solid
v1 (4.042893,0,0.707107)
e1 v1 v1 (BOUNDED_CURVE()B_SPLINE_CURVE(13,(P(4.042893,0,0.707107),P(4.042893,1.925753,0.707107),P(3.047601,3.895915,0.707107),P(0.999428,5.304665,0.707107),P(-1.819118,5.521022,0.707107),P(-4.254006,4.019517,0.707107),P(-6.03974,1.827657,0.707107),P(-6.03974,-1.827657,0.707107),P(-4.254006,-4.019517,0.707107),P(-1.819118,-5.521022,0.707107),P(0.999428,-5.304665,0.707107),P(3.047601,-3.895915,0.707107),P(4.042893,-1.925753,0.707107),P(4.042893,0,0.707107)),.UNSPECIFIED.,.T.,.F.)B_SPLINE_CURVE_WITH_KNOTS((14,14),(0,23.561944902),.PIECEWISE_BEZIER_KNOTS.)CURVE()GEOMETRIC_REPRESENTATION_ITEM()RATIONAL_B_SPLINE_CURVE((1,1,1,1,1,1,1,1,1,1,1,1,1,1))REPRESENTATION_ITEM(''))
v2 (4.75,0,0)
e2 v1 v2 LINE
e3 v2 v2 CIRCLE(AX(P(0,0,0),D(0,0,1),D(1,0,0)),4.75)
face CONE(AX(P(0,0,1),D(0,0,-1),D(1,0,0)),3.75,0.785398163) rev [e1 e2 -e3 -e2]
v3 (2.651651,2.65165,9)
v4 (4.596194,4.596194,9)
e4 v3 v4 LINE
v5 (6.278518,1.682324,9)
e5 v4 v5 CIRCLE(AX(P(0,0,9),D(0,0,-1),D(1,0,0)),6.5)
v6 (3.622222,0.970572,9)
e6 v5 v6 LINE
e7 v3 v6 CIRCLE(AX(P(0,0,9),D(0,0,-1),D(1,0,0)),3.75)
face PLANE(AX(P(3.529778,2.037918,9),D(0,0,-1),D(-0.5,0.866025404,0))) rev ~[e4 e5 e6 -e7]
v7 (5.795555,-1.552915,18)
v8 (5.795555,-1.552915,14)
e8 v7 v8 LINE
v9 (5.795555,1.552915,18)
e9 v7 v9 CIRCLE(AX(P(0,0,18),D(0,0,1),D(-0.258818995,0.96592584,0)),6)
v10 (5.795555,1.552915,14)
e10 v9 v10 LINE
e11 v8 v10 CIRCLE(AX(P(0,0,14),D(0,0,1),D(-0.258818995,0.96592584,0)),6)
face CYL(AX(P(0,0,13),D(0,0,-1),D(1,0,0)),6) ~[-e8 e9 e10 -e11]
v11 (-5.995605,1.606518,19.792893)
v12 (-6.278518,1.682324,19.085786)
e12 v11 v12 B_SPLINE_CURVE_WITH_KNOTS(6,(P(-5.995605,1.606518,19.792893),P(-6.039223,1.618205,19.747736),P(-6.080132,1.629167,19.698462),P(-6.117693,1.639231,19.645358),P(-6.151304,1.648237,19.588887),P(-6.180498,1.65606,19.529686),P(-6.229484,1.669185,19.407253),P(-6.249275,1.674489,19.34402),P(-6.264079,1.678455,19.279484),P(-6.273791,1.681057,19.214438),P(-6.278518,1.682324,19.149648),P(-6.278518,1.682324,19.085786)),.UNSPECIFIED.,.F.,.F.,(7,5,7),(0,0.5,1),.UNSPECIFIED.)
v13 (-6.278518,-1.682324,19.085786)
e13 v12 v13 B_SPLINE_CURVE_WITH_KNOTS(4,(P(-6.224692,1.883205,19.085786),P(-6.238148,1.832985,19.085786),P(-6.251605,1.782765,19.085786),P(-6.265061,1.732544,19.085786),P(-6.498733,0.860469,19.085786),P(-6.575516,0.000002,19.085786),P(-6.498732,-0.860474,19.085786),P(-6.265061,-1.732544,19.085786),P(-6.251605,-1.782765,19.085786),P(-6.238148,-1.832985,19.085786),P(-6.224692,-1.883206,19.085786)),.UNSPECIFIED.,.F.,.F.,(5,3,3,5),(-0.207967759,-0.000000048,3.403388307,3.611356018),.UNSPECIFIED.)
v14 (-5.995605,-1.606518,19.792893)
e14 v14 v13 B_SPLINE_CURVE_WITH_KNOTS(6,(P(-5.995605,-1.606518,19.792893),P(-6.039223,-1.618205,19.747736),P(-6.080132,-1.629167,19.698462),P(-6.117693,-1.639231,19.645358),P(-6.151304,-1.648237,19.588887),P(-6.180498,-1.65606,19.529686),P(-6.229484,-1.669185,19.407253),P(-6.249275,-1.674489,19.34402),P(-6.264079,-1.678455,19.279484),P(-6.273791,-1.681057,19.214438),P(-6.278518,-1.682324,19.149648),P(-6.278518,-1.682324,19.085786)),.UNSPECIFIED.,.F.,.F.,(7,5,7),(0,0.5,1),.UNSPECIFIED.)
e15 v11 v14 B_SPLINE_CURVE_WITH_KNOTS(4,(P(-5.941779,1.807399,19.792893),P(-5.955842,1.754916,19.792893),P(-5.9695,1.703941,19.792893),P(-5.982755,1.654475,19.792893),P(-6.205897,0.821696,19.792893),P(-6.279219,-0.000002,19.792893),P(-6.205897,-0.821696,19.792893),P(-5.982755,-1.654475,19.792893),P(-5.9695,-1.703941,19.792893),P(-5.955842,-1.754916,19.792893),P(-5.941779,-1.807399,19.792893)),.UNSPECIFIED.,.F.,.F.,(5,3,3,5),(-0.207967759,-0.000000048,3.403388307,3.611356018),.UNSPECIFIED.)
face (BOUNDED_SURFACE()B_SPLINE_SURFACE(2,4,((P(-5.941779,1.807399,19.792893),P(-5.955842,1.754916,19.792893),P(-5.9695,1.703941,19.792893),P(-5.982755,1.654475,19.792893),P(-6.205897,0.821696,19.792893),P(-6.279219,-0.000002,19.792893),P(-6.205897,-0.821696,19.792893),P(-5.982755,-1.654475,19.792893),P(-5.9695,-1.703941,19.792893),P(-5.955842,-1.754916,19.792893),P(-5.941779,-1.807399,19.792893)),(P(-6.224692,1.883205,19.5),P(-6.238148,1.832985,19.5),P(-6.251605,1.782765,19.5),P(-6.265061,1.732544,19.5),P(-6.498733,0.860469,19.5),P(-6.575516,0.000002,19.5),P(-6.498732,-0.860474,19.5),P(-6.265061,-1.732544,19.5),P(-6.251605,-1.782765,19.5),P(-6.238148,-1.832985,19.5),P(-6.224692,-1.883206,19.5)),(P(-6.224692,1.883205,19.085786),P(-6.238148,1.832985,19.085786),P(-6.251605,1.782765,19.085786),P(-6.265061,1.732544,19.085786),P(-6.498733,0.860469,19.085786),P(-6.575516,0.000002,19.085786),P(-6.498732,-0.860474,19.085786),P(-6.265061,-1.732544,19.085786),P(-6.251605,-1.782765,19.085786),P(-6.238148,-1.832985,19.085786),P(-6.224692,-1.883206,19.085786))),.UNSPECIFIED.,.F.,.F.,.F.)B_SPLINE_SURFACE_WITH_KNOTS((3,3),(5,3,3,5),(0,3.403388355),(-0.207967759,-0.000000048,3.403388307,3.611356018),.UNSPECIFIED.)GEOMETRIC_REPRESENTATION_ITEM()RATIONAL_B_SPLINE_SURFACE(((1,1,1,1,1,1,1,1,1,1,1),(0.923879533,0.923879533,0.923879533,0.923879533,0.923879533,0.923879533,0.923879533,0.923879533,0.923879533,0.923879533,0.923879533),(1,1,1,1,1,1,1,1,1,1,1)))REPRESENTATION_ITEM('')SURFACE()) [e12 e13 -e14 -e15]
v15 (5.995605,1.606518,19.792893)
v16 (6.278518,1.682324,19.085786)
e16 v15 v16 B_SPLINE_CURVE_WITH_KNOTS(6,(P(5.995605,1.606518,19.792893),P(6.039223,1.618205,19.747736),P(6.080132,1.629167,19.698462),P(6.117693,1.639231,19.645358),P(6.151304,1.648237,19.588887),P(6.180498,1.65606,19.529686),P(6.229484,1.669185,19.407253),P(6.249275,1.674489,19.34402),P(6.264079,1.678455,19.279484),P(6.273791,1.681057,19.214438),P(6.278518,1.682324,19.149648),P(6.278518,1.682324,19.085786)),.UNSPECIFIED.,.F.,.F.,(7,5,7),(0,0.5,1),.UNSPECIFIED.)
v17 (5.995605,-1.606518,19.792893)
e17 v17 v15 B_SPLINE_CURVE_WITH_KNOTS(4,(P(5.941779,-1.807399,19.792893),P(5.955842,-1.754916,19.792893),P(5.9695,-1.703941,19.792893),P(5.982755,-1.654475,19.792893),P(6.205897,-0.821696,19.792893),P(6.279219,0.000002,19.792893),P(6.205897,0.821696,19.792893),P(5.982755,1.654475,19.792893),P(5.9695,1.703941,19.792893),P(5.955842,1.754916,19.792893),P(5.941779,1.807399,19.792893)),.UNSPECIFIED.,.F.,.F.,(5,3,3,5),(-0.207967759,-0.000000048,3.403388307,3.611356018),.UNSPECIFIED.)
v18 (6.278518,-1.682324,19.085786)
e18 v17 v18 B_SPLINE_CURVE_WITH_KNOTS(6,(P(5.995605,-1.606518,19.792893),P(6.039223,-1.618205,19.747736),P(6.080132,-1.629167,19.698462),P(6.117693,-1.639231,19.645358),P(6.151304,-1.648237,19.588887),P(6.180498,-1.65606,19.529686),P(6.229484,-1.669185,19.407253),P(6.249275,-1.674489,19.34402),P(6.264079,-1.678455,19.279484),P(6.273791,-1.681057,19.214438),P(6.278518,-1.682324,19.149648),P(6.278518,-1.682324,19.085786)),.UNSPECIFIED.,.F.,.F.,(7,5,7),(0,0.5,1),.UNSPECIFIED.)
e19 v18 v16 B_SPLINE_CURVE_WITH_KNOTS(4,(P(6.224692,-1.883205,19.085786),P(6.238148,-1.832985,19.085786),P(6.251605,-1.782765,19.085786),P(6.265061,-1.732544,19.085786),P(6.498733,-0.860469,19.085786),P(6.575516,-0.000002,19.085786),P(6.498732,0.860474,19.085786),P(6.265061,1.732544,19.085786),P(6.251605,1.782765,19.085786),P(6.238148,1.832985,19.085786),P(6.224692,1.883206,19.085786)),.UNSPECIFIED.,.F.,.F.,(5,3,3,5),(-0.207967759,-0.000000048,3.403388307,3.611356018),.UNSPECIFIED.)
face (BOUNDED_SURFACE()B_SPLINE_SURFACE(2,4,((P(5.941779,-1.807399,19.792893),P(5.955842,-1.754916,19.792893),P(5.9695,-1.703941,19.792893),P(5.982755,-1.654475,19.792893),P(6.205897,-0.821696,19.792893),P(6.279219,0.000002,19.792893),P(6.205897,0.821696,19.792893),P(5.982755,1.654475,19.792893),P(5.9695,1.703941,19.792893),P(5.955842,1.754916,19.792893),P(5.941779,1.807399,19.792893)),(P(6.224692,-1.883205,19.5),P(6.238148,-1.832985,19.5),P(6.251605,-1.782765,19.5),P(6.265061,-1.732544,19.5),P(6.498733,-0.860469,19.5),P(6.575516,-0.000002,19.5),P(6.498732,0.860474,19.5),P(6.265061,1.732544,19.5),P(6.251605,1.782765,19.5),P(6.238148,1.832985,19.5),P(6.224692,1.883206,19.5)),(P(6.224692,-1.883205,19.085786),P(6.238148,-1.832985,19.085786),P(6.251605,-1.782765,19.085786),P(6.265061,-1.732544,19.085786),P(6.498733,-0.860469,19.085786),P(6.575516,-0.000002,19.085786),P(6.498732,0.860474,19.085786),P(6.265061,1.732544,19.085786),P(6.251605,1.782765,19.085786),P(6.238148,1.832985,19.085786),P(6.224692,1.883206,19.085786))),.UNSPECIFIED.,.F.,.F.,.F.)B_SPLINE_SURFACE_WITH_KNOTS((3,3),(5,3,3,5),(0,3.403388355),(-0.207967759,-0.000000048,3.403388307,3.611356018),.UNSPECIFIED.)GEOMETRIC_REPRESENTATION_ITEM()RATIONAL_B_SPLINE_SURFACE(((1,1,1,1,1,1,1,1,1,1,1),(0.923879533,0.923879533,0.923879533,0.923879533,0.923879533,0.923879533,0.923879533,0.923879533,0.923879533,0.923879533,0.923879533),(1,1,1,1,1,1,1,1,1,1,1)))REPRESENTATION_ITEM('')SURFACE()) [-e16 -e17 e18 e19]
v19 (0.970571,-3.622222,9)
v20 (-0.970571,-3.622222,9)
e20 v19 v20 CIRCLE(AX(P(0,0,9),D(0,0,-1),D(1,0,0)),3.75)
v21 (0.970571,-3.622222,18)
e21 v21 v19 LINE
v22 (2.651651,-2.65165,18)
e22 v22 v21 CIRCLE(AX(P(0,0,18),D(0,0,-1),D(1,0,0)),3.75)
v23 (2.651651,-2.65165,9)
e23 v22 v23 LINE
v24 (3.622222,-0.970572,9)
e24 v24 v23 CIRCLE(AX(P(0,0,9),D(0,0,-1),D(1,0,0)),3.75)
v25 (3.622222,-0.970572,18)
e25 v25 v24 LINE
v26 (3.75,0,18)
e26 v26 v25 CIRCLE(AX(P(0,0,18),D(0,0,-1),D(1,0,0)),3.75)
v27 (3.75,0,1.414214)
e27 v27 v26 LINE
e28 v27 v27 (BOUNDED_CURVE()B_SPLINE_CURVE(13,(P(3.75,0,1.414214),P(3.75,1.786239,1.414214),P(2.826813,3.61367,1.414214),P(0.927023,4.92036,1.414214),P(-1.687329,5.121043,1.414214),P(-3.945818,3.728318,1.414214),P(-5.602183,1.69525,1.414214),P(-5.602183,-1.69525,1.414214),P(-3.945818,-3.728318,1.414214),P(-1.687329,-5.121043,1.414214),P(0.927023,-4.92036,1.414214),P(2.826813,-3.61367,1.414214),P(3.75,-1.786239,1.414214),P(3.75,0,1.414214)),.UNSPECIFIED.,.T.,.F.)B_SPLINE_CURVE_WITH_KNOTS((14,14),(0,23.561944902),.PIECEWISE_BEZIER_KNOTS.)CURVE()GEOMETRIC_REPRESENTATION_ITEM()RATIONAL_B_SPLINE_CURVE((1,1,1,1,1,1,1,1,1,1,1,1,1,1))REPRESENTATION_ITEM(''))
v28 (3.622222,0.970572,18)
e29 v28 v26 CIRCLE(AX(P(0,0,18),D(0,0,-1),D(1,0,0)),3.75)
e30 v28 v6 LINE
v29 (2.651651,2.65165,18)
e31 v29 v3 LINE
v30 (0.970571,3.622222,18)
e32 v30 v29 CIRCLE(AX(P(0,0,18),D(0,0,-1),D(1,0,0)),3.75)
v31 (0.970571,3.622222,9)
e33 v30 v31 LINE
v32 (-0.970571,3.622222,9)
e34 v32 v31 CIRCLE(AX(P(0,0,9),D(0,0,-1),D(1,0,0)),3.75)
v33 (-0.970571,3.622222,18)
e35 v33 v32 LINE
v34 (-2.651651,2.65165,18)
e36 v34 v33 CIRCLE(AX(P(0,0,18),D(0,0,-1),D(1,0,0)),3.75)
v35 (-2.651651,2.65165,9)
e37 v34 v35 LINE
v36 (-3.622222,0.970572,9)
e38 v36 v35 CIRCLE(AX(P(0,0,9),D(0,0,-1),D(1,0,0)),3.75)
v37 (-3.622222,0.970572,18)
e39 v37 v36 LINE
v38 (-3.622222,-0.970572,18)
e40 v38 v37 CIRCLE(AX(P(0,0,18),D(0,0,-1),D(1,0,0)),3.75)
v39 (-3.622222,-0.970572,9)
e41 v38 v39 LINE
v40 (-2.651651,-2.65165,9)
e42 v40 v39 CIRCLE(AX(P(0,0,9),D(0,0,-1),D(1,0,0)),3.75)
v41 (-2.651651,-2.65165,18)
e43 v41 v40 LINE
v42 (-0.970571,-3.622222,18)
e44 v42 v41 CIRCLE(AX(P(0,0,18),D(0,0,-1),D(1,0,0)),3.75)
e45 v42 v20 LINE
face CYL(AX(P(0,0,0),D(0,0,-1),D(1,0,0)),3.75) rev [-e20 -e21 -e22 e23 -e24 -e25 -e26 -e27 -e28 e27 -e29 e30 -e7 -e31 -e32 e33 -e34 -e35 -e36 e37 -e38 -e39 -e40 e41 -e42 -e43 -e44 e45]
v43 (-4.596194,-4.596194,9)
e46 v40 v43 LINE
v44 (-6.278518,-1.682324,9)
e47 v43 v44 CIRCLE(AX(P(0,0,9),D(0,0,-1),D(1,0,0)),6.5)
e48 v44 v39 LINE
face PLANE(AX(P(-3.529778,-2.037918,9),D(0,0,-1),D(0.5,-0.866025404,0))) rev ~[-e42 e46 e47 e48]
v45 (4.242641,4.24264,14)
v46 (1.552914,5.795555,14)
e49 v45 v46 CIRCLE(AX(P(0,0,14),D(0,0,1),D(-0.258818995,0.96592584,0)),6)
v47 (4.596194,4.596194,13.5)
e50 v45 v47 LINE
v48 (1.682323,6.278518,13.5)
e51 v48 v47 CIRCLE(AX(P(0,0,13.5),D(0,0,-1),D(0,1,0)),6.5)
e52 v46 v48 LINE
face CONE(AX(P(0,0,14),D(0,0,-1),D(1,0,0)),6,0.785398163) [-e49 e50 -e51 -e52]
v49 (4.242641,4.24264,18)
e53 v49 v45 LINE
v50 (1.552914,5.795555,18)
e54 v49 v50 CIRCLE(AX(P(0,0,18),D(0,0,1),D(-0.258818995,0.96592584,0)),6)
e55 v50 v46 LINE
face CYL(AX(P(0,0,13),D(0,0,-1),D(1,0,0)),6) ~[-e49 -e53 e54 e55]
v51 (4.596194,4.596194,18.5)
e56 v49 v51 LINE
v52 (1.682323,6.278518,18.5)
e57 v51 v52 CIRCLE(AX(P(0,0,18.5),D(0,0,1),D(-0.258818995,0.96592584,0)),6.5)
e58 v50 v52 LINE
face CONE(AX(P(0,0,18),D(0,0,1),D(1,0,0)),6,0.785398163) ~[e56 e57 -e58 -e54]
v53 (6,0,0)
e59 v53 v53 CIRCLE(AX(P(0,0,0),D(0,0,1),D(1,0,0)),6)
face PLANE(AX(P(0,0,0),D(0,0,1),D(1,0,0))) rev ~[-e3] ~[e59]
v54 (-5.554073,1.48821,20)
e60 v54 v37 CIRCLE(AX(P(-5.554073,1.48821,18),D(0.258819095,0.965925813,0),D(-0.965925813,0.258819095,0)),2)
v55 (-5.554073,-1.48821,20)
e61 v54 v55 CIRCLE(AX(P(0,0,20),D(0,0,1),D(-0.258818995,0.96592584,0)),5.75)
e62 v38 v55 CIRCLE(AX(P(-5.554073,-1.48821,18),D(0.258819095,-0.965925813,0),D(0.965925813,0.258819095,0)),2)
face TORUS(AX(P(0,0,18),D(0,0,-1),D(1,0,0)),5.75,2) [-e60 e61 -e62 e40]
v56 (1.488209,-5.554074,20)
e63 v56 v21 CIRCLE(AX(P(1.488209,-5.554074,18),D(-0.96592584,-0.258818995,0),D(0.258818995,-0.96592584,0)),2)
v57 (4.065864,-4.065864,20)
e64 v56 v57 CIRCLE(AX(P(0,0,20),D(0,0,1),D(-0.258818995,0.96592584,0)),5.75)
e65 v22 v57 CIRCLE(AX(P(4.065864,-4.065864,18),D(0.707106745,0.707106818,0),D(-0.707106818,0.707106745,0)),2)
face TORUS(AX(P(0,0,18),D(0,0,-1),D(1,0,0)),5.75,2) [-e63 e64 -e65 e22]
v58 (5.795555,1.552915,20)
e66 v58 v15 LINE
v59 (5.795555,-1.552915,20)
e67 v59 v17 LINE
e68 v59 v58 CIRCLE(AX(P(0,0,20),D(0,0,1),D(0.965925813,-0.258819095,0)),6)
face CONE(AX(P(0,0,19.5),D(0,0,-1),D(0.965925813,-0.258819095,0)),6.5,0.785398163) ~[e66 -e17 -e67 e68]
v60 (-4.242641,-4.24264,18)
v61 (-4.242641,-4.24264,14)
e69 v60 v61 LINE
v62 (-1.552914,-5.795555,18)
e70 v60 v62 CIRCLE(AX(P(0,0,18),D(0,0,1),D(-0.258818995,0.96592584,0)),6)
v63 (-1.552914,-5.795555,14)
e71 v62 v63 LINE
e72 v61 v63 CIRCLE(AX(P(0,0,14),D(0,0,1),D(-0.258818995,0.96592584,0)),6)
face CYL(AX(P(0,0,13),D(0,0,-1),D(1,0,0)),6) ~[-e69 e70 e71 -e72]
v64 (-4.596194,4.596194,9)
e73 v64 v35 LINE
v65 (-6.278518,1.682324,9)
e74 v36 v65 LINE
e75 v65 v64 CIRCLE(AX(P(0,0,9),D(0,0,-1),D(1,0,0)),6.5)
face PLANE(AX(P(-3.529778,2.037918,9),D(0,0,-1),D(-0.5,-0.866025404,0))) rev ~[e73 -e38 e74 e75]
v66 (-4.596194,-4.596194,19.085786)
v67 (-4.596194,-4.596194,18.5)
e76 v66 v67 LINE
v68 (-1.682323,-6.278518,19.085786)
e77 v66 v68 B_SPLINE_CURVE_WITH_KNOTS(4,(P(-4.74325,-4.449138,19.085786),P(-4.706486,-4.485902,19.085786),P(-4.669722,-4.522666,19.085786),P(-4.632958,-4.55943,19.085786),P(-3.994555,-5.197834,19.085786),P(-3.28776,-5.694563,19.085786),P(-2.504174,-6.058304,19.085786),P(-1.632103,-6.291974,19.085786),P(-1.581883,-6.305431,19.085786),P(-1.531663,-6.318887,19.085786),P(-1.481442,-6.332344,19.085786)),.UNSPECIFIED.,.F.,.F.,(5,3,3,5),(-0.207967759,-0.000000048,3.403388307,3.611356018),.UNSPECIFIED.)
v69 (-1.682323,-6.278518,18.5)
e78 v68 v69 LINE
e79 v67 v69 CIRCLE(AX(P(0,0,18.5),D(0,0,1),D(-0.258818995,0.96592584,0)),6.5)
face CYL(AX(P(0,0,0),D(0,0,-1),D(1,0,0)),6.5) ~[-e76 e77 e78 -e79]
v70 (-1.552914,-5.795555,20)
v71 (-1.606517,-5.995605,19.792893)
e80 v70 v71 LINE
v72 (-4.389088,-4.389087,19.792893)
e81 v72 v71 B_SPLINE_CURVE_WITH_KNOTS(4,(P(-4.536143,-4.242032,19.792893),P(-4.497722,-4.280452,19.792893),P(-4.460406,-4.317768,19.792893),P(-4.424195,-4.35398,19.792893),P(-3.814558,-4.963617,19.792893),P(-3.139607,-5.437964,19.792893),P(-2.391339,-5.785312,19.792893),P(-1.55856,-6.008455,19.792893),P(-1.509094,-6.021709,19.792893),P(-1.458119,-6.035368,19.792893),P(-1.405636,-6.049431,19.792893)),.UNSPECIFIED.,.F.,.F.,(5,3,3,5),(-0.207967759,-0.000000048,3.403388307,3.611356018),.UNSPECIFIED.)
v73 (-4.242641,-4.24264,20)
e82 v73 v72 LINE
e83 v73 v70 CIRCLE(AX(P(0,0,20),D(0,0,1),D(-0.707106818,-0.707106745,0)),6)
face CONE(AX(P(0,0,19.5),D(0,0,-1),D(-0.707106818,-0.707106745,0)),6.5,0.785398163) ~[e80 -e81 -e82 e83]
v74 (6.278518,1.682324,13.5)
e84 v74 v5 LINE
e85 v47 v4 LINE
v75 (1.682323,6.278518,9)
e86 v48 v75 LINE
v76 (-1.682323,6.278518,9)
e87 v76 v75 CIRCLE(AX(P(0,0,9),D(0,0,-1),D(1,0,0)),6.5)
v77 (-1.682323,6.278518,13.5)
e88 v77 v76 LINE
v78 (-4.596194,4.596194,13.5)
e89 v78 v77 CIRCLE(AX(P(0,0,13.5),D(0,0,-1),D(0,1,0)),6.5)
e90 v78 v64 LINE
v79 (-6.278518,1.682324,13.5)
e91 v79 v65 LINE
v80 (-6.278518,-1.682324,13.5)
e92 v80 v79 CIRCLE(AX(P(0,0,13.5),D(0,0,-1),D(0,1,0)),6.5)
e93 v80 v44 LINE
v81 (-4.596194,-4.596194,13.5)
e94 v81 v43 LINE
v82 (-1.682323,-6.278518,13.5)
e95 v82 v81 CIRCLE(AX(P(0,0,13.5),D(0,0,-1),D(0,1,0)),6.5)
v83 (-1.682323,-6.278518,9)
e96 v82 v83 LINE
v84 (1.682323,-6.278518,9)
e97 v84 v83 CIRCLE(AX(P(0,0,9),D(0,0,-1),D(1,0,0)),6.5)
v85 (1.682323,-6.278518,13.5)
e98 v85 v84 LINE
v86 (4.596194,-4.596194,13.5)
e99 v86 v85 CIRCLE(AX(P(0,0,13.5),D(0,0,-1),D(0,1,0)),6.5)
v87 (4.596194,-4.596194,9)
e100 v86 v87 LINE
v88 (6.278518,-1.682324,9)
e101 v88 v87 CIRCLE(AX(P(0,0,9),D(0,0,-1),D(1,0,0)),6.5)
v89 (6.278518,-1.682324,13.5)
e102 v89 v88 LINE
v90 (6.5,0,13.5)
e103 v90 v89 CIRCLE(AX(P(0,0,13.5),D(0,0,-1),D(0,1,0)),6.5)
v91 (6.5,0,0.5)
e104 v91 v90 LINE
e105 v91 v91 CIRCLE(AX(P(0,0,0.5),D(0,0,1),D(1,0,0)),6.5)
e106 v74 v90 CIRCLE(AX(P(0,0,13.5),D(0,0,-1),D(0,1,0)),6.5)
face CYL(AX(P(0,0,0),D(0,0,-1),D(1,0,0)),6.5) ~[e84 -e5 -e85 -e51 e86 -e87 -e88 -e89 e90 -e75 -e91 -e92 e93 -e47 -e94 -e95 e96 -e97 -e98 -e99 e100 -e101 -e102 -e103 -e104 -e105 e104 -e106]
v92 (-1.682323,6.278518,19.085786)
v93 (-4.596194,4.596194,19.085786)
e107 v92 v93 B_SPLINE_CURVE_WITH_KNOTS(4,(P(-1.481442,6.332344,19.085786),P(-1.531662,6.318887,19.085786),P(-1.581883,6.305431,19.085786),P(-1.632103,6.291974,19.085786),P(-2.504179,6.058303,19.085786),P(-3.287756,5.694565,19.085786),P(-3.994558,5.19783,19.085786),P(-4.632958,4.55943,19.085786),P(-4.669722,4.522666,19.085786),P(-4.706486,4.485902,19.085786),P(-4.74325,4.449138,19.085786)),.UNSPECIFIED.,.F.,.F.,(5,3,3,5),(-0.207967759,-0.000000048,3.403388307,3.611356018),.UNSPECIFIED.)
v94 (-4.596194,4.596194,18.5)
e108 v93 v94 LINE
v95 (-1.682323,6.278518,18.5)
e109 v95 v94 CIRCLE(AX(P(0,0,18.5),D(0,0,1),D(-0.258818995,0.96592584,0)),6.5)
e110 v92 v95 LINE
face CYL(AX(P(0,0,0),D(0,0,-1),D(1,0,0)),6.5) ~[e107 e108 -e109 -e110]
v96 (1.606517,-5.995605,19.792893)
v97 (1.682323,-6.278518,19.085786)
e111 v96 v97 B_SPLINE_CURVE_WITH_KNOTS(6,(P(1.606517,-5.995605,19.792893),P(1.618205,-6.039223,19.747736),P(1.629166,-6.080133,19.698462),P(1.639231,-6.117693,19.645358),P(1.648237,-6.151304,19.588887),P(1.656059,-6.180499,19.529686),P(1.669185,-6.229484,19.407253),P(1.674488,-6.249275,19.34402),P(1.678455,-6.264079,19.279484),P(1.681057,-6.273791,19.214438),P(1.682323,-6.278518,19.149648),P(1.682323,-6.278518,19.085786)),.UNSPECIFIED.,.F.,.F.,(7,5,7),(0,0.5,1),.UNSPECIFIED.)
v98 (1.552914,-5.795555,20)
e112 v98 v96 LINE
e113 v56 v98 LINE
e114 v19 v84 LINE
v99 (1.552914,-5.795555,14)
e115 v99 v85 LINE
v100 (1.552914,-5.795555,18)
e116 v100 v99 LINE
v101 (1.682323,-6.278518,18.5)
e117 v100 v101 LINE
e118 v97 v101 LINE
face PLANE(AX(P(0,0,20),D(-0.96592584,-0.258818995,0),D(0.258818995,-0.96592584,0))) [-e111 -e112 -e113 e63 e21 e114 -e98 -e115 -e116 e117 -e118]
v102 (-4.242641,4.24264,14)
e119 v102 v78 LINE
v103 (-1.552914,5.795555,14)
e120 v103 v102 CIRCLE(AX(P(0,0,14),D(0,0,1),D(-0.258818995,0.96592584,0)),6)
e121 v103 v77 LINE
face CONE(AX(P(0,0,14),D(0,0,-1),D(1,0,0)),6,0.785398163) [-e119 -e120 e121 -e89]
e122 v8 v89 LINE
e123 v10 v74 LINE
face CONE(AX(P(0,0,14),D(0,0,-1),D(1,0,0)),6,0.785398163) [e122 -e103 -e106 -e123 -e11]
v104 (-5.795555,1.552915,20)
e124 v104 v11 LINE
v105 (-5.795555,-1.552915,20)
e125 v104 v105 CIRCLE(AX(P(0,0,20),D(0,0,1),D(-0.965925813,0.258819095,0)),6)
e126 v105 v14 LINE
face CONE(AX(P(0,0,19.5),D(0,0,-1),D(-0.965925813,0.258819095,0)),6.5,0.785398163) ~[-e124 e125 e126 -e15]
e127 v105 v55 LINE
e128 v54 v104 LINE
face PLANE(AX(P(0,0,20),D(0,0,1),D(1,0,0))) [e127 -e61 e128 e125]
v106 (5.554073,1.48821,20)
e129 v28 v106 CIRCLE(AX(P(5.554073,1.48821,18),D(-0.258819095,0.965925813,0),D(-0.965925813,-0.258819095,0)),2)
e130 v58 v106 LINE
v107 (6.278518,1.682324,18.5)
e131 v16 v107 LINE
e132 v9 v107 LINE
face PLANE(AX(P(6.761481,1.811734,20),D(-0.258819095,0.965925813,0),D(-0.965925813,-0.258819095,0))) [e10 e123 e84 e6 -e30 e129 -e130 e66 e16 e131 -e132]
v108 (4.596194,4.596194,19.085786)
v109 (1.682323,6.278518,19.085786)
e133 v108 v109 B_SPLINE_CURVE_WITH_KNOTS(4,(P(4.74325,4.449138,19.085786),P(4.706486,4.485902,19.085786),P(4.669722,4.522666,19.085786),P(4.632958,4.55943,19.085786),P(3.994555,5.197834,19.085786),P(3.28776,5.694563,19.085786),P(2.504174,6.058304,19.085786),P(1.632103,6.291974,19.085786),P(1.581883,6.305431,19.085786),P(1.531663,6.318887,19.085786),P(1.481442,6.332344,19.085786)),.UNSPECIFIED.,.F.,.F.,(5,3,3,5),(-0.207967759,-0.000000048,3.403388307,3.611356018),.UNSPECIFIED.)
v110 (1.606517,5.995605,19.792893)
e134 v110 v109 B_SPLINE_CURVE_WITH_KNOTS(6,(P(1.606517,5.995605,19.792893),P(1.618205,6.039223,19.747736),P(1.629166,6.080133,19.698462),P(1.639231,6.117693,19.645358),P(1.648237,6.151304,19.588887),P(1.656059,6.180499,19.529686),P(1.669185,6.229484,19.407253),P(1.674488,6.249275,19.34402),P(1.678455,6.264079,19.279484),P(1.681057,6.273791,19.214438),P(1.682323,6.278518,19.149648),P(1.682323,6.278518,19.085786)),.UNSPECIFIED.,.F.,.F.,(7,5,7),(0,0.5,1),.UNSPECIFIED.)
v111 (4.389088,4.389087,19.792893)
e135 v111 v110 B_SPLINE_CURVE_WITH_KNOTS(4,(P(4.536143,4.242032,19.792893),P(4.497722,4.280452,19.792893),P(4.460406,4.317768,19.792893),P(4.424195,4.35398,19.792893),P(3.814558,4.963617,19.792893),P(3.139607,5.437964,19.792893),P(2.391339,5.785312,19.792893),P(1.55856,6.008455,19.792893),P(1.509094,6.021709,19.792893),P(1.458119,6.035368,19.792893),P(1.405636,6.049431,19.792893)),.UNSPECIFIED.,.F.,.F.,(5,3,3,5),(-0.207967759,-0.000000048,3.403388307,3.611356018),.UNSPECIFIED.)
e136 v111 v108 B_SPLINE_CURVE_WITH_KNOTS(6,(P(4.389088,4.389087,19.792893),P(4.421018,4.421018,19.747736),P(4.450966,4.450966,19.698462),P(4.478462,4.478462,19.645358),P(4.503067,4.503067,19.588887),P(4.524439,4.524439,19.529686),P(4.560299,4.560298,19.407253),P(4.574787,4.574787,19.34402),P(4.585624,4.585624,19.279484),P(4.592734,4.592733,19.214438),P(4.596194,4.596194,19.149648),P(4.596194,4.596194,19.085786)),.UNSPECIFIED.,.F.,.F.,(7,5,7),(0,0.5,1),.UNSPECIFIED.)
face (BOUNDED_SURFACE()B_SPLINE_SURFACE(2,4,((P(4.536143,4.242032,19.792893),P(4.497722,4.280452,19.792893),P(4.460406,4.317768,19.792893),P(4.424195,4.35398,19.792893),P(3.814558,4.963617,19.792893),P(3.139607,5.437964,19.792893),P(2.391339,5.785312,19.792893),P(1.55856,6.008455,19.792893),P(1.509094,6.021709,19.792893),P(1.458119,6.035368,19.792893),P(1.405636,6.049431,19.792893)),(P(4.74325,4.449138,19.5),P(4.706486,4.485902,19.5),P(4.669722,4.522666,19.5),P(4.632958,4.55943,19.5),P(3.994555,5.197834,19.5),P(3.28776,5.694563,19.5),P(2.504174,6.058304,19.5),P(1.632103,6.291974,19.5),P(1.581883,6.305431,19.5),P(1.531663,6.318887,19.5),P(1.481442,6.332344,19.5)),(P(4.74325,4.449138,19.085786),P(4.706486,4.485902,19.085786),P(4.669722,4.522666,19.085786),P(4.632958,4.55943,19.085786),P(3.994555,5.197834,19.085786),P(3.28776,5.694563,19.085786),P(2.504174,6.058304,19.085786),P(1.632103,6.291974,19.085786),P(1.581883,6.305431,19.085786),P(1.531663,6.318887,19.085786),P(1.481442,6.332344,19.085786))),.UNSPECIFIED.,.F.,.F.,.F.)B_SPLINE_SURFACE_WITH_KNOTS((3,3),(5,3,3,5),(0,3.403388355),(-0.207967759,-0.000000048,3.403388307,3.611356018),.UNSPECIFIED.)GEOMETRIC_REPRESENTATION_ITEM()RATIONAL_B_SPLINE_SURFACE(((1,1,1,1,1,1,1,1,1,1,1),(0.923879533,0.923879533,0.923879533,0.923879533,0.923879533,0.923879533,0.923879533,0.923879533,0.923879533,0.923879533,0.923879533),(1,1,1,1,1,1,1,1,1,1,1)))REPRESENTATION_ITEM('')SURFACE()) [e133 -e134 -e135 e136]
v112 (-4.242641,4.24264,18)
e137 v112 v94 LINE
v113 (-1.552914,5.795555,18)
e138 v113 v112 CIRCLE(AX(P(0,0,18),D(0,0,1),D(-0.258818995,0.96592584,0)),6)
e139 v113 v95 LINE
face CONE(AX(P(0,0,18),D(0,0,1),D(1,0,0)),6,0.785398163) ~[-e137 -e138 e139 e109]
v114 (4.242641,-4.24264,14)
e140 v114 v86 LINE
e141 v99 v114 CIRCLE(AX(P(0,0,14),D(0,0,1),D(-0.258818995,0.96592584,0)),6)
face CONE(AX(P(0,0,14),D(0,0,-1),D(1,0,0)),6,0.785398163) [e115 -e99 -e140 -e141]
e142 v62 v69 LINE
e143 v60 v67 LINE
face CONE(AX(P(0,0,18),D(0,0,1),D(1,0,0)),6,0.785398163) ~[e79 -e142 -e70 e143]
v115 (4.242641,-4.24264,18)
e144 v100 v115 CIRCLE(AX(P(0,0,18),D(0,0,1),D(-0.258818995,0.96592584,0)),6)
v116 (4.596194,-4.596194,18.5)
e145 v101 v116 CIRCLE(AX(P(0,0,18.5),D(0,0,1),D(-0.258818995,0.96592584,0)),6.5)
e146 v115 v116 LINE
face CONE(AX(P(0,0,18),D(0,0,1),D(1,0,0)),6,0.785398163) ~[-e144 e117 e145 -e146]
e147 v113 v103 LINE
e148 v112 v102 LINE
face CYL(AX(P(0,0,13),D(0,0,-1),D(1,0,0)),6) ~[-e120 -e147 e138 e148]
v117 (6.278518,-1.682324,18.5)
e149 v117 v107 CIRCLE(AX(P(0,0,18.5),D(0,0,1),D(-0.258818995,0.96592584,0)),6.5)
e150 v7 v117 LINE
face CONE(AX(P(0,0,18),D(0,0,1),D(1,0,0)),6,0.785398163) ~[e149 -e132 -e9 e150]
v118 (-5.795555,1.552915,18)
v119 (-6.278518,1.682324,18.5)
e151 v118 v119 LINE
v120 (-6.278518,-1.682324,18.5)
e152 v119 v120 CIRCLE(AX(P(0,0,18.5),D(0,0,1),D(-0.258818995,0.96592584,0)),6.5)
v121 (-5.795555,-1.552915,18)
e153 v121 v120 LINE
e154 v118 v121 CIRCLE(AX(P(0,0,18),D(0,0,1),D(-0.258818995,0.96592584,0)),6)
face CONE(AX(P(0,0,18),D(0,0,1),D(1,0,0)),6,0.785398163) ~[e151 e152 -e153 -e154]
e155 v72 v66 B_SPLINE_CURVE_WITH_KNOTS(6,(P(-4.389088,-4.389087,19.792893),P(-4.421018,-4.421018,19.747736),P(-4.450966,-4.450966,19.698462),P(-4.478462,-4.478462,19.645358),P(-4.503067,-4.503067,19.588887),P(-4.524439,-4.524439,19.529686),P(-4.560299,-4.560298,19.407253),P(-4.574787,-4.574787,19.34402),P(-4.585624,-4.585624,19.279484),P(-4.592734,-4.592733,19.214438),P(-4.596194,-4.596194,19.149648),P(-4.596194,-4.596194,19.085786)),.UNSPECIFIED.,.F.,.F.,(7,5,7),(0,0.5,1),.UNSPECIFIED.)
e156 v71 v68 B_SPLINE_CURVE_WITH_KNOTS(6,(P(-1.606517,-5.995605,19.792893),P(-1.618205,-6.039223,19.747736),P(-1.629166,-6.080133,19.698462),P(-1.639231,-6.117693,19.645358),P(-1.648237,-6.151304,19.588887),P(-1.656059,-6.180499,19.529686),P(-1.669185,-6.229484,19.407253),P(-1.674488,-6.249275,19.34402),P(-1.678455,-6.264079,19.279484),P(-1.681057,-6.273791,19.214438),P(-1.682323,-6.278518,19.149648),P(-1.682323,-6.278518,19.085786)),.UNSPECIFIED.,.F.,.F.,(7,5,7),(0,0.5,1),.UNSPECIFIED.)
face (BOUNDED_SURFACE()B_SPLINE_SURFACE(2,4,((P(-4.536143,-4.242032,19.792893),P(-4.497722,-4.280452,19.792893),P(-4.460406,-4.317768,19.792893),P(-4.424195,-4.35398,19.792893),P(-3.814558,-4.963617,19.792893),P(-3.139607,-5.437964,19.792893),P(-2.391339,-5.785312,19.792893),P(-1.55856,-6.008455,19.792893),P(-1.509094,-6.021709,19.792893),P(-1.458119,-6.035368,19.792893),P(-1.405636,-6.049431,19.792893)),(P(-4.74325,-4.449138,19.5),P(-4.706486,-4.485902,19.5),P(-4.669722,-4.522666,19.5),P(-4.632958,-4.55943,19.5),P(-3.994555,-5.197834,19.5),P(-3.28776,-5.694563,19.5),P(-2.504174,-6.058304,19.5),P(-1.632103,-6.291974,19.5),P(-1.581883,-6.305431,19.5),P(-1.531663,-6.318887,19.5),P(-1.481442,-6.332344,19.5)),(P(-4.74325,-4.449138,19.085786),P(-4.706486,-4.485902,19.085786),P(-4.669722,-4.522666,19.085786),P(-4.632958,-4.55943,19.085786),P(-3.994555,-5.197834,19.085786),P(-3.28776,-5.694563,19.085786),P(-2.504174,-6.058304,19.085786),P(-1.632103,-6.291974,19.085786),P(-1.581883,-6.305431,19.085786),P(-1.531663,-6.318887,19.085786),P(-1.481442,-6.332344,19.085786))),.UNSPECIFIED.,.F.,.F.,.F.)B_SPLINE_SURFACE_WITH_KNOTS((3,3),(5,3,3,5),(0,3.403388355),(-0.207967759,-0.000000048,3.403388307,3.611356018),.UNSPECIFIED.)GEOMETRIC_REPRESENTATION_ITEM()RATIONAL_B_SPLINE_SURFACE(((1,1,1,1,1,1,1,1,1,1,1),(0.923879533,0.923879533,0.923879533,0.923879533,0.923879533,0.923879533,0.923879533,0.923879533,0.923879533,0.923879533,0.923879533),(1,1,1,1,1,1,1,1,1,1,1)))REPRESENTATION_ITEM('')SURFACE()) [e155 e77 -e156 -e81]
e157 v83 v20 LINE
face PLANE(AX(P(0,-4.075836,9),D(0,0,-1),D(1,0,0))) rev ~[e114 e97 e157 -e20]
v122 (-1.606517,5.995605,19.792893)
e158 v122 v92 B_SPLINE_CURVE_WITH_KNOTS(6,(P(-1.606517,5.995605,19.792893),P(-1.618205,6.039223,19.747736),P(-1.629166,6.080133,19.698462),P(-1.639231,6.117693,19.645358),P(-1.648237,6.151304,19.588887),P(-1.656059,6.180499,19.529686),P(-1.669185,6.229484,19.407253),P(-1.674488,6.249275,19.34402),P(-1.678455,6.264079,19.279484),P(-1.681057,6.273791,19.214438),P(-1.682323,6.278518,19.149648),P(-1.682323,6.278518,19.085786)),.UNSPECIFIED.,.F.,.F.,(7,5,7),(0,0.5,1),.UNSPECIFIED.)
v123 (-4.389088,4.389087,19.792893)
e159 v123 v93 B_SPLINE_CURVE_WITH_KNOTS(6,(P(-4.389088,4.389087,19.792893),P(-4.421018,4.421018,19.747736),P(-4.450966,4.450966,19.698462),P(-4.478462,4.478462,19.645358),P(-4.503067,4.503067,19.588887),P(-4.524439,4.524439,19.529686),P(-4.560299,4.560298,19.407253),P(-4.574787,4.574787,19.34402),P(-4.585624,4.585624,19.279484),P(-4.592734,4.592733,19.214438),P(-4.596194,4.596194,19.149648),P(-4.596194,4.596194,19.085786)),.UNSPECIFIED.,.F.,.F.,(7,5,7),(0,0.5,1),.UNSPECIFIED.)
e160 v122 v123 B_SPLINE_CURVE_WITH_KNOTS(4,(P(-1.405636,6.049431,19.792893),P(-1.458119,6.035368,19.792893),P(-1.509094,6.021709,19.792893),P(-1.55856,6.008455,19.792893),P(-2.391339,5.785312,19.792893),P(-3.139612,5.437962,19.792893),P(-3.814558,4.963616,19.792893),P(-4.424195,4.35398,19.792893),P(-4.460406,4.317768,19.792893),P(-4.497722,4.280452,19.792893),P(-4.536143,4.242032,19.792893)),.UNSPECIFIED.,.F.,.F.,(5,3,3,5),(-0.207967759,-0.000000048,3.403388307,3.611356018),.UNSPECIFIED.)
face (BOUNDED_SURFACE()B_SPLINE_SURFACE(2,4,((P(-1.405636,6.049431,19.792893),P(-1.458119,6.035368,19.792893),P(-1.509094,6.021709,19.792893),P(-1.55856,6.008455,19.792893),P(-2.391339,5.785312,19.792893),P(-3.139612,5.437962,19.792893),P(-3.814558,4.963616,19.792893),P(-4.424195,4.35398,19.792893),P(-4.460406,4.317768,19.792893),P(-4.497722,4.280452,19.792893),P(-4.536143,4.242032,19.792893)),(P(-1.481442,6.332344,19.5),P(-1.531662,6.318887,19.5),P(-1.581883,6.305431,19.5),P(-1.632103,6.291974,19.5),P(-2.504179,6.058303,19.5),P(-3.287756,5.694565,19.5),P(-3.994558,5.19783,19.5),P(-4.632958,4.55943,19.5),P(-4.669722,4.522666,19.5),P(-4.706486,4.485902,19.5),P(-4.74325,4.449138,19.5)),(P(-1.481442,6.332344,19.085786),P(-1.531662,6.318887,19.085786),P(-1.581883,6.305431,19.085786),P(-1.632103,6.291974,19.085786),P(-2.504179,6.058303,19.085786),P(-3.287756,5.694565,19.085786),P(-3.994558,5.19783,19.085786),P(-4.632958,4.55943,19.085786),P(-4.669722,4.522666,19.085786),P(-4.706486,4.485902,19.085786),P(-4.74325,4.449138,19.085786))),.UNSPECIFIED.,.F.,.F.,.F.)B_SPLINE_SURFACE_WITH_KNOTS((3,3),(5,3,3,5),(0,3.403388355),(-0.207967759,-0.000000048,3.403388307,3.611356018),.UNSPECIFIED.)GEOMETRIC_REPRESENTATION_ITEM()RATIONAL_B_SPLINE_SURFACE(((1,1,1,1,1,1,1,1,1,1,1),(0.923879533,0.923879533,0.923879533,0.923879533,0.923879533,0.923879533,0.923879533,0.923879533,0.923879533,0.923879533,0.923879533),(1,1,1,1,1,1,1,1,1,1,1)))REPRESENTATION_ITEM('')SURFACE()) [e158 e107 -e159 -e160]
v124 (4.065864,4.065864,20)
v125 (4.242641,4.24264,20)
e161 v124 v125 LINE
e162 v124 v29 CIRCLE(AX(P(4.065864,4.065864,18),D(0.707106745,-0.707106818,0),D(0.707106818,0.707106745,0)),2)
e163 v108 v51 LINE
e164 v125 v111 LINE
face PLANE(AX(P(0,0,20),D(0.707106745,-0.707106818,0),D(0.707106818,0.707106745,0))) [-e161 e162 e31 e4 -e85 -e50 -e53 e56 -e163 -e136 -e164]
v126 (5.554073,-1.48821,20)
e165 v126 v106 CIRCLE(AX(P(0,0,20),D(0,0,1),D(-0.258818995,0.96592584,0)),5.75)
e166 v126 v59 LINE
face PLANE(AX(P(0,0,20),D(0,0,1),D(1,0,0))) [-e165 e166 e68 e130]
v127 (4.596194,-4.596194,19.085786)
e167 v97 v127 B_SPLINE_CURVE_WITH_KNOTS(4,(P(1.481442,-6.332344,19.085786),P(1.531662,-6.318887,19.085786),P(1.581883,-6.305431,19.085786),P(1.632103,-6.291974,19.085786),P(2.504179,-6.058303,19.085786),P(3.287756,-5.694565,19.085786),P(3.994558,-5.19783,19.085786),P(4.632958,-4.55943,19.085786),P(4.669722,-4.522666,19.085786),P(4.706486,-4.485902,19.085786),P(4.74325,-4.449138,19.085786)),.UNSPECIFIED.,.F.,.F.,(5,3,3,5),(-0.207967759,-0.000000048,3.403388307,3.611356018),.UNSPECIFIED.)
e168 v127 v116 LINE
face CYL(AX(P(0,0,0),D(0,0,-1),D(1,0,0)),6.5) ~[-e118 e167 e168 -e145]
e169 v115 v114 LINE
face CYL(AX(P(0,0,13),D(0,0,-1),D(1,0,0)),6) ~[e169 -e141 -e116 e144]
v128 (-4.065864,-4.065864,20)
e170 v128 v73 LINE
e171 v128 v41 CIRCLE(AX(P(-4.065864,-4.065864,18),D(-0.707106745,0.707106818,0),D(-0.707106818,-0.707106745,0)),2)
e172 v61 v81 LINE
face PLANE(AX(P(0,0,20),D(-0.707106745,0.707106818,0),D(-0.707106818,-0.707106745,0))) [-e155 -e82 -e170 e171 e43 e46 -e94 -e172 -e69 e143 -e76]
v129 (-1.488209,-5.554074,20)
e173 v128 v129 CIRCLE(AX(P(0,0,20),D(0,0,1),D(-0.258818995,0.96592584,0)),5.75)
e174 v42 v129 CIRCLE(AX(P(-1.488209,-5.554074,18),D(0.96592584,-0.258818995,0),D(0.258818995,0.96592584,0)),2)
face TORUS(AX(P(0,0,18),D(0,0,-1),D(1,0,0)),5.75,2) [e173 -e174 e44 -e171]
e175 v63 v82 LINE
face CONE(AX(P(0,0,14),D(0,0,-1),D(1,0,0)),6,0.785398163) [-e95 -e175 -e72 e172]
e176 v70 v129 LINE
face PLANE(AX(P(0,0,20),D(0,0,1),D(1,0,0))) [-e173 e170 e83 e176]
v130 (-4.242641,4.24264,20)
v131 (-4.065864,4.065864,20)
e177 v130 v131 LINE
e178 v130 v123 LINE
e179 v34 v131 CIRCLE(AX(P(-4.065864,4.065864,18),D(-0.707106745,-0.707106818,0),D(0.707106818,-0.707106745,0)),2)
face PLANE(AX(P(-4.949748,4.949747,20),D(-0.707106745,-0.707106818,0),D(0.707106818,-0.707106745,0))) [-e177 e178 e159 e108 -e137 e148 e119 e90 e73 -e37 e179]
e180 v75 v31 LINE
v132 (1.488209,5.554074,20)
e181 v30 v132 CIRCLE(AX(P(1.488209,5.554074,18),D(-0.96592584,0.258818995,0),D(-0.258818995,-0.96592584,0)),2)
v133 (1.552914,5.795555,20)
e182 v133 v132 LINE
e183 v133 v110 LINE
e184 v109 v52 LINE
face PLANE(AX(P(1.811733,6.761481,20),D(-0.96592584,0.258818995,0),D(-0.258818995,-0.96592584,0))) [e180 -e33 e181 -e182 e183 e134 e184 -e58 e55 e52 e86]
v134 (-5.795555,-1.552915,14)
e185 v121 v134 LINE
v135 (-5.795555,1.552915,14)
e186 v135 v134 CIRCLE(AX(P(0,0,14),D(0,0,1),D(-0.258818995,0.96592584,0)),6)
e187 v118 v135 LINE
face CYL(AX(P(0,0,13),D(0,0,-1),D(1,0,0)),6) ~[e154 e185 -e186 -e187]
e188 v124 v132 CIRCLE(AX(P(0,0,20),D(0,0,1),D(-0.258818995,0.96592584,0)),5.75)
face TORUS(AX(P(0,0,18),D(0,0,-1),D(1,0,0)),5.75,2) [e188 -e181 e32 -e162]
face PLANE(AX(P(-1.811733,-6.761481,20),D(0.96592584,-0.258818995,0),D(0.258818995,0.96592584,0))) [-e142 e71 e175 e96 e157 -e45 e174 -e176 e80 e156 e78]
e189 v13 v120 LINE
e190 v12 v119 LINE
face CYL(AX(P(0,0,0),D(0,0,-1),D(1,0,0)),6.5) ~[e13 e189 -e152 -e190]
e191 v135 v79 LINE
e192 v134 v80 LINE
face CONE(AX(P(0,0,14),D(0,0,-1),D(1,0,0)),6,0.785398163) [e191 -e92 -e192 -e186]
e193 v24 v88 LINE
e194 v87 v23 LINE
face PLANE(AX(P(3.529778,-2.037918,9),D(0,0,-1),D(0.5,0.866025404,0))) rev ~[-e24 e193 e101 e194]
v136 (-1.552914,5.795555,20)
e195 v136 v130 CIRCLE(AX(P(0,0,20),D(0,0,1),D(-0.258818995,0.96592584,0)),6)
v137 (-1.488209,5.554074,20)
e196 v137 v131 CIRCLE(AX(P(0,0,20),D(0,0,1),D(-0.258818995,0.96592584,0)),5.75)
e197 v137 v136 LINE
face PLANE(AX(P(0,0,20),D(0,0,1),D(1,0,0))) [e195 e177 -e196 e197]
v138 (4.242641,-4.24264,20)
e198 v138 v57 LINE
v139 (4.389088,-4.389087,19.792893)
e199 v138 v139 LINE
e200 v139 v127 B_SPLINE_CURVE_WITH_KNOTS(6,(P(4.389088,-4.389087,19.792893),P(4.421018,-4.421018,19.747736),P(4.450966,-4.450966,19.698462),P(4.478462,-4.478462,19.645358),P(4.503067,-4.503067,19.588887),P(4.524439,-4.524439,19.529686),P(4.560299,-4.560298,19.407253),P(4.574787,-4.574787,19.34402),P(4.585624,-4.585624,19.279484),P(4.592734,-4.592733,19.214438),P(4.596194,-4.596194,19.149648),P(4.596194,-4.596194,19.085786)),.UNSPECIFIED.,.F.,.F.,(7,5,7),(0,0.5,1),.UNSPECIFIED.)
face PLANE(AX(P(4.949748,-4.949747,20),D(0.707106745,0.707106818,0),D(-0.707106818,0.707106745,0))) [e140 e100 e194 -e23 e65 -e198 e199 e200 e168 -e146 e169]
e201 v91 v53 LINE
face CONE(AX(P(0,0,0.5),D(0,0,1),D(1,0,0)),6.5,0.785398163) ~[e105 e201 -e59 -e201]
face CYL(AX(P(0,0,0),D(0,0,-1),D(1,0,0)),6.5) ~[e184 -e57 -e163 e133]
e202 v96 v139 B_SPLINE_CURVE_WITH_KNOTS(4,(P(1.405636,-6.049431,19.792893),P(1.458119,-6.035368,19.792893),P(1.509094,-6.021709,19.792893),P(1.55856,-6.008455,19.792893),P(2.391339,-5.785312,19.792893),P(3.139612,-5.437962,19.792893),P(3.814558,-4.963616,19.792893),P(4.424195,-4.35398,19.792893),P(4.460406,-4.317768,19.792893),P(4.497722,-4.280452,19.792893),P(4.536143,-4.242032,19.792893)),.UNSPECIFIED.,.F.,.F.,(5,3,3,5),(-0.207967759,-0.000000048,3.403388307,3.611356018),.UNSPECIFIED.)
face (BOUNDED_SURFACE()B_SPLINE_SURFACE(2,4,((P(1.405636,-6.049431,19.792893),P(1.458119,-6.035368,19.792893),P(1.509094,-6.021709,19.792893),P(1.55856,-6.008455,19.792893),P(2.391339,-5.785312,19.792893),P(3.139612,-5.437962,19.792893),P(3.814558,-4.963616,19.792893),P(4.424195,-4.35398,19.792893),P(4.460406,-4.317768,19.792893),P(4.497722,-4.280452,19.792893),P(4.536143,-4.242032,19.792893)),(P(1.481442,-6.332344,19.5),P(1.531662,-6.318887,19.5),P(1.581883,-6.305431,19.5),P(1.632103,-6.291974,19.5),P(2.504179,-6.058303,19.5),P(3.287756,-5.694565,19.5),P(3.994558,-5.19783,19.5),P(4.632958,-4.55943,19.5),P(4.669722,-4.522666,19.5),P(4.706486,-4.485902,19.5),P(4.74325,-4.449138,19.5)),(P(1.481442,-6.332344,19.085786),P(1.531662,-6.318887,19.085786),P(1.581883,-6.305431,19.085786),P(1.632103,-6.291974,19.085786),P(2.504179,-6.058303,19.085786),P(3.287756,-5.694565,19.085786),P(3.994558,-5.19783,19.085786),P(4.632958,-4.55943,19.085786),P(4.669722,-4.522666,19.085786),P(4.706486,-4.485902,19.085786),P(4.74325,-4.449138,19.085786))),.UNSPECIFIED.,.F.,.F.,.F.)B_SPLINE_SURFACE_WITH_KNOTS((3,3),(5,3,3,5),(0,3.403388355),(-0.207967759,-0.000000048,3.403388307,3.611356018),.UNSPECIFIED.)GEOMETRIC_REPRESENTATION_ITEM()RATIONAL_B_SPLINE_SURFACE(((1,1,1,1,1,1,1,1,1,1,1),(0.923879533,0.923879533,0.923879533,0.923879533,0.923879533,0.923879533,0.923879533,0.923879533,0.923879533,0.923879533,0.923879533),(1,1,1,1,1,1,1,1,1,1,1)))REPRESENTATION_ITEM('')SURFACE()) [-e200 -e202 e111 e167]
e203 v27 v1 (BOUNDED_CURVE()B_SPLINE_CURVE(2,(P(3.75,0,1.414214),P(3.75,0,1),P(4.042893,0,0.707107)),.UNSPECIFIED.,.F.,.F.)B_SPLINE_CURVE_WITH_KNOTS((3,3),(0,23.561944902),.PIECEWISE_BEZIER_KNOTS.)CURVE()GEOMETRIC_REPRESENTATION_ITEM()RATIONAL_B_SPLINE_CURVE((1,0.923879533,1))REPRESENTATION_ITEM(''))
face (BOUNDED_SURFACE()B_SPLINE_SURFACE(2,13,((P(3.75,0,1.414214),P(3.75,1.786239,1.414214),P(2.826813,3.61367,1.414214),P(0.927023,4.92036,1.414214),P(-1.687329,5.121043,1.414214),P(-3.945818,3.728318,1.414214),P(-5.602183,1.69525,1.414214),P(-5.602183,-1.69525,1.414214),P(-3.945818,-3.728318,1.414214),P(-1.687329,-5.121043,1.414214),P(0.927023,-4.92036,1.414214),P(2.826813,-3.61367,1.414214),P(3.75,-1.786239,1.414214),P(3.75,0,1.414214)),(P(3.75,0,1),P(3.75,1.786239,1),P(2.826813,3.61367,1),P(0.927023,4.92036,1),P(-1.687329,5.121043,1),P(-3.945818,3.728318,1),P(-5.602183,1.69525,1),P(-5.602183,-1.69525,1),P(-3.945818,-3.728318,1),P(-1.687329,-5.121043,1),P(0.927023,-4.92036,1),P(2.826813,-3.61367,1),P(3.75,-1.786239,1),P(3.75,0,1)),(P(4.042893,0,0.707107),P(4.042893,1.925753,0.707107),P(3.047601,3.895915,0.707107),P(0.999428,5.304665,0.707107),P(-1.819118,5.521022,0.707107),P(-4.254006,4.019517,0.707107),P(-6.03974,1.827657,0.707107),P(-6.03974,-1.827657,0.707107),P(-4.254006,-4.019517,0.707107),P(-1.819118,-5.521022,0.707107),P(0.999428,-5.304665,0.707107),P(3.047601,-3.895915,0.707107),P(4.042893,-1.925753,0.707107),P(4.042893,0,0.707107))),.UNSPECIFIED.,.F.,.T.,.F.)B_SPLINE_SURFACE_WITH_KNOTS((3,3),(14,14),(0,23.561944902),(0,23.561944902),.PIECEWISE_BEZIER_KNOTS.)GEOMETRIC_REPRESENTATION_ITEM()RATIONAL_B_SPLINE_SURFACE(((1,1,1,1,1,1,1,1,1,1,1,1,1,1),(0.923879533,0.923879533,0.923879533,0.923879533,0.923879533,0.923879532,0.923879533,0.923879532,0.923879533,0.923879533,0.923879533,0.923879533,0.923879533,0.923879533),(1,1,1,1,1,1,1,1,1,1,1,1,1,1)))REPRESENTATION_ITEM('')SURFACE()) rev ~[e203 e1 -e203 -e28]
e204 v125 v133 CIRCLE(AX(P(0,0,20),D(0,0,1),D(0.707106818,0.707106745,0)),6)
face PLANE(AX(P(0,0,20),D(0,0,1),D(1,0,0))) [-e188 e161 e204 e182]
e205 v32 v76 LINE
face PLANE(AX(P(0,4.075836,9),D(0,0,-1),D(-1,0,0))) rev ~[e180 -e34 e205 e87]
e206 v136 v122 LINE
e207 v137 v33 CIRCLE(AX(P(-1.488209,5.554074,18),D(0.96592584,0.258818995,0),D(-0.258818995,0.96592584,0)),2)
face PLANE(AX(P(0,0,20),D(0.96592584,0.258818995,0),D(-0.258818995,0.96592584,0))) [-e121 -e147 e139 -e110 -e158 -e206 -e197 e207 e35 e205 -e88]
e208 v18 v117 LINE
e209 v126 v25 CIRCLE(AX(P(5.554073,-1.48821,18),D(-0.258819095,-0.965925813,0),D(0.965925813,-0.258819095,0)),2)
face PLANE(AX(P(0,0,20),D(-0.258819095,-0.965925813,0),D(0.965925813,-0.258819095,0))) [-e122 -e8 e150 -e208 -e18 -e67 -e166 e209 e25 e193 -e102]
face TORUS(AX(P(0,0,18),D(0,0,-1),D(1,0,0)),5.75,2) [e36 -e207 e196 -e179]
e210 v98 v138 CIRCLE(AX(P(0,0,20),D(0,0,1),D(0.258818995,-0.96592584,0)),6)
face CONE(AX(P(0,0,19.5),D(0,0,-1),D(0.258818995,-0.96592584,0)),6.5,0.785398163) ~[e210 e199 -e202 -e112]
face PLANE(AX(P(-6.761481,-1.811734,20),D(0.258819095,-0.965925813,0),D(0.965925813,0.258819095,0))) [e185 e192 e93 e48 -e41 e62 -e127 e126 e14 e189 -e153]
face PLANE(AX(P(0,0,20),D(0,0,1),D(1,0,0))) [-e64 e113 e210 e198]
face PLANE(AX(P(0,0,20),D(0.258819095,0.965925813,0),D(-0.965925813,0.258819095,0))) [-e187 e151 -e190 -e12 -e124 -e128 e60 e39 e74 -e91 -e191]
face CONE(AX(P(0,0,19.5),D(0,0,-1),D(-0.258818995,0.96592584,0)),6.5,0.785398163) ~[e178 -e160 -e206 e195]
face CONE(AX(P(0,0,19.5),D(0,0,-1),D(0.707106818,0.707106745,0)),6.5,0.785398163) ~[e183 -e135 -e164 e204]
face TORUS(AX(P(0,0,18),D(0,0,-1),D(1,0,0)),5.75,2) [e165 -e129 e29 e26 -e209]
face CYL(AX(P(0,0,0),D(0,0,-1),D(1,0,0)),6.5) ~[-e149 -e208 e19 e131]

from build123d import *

# Parameters (mm, degrees)
CYLINDER001_R      = 3.75
CYLINDER001_DEPTH  = 30
CYLINDER002_R      = 6
CYLINDER002_DEPTH  = 6
CYLINDER003_R      = 8
CYLINDER003_DEPTH  = 6
CHAMFER_SIZE       = 1
CYLINDER_R         = 6.5
CYLINDER_DEPTH     = 20
FILLET_R           = 2
CHAMFER001_SIZE    = 1
FILLET001_R        = 1
POCKET_DEPTH       = 11
POLARPATTERN_COUNT = 6
CHAMFER002_SIZE    = 0.5
FILLET002_R        = 1
CHAMFER003_SIZE    = 0.5


with BuildPart() as cilindro001:
    # Cylinder001 → Cylinder001 (new body)
    with BuildSketch(Plane.XY):
        Circle(CYLINDER001_R)
    extrude(amount=CYLINDER001_DEPTH)


with BuildPart() as cilindro002:
    # Cylinder002 → Cylinder002 (new body)
    with BuildSketch(Plane.XY):
        Circle(CYLINDER002_R)
    extrude(amount=CYLINDER002_DEPTH)


with BuildPart() as chamfer_body:
    # Cylinder003 → Cylinder003 (new body)
    with BuildSketch(Plane.XY):
        Circle(CYLINDER003_R)
    extrude(amount=CYLINDER003_DEPTH)

    # Cut: cut Cilindro002
    add(cilindro002.part, mode=Mode.SUBTRACT)


with BuildPart() as chamfer_body_1:
    # Cut placement: moved
    add(chamfer_body.part.moved(Location((0, 0, 13))))

    # Chamfer
    chamfer_edges = [chamfer_body_1.edges().sort_by_distance(p)[0] for p in [
        (-6, 0, 19),
        (-6, 0, 13),
    ]]
    chamfer(chamfer_edges, length=CHAMFER_SIZE)


with BuildPart() as chamfer003:
    # Cylinder → Cylinder (new body)
    with BuildSketch(Plane.XY):
        Circle(CYLINDER_R)
    extrude(amount=CYLINDER_DEPTH)

    # Cut001: cut Chamfer body
    add(chamfer_body_1.part, mode=Mode.SUBTRACT)

    # Cut002: cut Cilindro001
    add(cilindro001.part, mode=Mode.SUBTRACT)

    # Fillet
    fillet_edges = [chamfer003.edges().sort_by_distance(p)[0] for p in [
        (-3.75, 0, 20),
    ]]
    fillet(fillet_edges, radius=FILLET_R)

    # Chamfer001
    chamfer001_edges = [chamfer003.edges().sort_by_distance(p)[0] for p in [
        (-3.75, 0, 0),
    ]]
    chamfer(chamfer001_edges, length=CHAMFER001_SIZE)

    # Fillet001
    fillet001_edges = [chamfer003.edges().sort_by_distance(p)[0] for p in [
        (-3.75, 0, 1),
    ]]
    fillet(fillet001_edges, radius=FILLET001_R)

    # Sketch → Pocket (cut)
    with BuildSketch(Plane.XY.offset(20)):
        Polygon((0, 0), (-1.811733, 6.761481), (1.811733, 6.761481), align=None)
    pocket = extrude(amount=-POCKET_DEPTH, mode=Mode.SUBTRACT)

    # PolarPattern: Pocket ×6 about axis
    polarpattern_axis = Axis((0, 0, 20), (0, 0, 1))
    for i in range(1, POLARPATTERN_COUNT):
        add(pocket.rotate(polarpattern_axis, i * 360 / POLARPATTERN_COUNT), mode=Mode.SUBTRACT)

    # Chamfer002
    chamfer002_edges = [chamfer003.edges().sort_by_distance(p)[0] for p in [
        (3.25, -5.629165, 20),
        (-3.25, -5.629165, 20),
        (6.444392, 0.84842, 20),
        (6.444392, -0.84842, 20),
        (3.25, 5.629165, 20),
        (-3.25, 5.629165, 20),
        (-6.5, 0, 20),
    ]]
    chamfer(chamfer002_edges, length=CHAMFER002_SIZE)

    # Fillet002
    fillet002_edges = [chamfer003.edges().sort_by_distance(p)[0] for p in [
        (6.444392, 0.84842, 19.5),
        (6.444392, -0.84842, 19.5),
        (3.25, -5.629165, 19.5),
        (-3.25, -5.629165, 19.5),
        (3.25, 5.629165, 19.5),
        (-3.25, 5.629165, 19.5),
        (-6.5, 0, 19.5),
    ]]
    fillet(fillet002_edges, radius=FILLET002_R)

    # Chamfer003
    chamfer003_edges = [chamfer003.edges().sort_by_distance(p)[0] for p in [
        (-6.5, 0, 0),
    ]]
    chamfer(chamfer003_edges, length=CHAMFER003_SIZE)


solid = chamfer003.part
